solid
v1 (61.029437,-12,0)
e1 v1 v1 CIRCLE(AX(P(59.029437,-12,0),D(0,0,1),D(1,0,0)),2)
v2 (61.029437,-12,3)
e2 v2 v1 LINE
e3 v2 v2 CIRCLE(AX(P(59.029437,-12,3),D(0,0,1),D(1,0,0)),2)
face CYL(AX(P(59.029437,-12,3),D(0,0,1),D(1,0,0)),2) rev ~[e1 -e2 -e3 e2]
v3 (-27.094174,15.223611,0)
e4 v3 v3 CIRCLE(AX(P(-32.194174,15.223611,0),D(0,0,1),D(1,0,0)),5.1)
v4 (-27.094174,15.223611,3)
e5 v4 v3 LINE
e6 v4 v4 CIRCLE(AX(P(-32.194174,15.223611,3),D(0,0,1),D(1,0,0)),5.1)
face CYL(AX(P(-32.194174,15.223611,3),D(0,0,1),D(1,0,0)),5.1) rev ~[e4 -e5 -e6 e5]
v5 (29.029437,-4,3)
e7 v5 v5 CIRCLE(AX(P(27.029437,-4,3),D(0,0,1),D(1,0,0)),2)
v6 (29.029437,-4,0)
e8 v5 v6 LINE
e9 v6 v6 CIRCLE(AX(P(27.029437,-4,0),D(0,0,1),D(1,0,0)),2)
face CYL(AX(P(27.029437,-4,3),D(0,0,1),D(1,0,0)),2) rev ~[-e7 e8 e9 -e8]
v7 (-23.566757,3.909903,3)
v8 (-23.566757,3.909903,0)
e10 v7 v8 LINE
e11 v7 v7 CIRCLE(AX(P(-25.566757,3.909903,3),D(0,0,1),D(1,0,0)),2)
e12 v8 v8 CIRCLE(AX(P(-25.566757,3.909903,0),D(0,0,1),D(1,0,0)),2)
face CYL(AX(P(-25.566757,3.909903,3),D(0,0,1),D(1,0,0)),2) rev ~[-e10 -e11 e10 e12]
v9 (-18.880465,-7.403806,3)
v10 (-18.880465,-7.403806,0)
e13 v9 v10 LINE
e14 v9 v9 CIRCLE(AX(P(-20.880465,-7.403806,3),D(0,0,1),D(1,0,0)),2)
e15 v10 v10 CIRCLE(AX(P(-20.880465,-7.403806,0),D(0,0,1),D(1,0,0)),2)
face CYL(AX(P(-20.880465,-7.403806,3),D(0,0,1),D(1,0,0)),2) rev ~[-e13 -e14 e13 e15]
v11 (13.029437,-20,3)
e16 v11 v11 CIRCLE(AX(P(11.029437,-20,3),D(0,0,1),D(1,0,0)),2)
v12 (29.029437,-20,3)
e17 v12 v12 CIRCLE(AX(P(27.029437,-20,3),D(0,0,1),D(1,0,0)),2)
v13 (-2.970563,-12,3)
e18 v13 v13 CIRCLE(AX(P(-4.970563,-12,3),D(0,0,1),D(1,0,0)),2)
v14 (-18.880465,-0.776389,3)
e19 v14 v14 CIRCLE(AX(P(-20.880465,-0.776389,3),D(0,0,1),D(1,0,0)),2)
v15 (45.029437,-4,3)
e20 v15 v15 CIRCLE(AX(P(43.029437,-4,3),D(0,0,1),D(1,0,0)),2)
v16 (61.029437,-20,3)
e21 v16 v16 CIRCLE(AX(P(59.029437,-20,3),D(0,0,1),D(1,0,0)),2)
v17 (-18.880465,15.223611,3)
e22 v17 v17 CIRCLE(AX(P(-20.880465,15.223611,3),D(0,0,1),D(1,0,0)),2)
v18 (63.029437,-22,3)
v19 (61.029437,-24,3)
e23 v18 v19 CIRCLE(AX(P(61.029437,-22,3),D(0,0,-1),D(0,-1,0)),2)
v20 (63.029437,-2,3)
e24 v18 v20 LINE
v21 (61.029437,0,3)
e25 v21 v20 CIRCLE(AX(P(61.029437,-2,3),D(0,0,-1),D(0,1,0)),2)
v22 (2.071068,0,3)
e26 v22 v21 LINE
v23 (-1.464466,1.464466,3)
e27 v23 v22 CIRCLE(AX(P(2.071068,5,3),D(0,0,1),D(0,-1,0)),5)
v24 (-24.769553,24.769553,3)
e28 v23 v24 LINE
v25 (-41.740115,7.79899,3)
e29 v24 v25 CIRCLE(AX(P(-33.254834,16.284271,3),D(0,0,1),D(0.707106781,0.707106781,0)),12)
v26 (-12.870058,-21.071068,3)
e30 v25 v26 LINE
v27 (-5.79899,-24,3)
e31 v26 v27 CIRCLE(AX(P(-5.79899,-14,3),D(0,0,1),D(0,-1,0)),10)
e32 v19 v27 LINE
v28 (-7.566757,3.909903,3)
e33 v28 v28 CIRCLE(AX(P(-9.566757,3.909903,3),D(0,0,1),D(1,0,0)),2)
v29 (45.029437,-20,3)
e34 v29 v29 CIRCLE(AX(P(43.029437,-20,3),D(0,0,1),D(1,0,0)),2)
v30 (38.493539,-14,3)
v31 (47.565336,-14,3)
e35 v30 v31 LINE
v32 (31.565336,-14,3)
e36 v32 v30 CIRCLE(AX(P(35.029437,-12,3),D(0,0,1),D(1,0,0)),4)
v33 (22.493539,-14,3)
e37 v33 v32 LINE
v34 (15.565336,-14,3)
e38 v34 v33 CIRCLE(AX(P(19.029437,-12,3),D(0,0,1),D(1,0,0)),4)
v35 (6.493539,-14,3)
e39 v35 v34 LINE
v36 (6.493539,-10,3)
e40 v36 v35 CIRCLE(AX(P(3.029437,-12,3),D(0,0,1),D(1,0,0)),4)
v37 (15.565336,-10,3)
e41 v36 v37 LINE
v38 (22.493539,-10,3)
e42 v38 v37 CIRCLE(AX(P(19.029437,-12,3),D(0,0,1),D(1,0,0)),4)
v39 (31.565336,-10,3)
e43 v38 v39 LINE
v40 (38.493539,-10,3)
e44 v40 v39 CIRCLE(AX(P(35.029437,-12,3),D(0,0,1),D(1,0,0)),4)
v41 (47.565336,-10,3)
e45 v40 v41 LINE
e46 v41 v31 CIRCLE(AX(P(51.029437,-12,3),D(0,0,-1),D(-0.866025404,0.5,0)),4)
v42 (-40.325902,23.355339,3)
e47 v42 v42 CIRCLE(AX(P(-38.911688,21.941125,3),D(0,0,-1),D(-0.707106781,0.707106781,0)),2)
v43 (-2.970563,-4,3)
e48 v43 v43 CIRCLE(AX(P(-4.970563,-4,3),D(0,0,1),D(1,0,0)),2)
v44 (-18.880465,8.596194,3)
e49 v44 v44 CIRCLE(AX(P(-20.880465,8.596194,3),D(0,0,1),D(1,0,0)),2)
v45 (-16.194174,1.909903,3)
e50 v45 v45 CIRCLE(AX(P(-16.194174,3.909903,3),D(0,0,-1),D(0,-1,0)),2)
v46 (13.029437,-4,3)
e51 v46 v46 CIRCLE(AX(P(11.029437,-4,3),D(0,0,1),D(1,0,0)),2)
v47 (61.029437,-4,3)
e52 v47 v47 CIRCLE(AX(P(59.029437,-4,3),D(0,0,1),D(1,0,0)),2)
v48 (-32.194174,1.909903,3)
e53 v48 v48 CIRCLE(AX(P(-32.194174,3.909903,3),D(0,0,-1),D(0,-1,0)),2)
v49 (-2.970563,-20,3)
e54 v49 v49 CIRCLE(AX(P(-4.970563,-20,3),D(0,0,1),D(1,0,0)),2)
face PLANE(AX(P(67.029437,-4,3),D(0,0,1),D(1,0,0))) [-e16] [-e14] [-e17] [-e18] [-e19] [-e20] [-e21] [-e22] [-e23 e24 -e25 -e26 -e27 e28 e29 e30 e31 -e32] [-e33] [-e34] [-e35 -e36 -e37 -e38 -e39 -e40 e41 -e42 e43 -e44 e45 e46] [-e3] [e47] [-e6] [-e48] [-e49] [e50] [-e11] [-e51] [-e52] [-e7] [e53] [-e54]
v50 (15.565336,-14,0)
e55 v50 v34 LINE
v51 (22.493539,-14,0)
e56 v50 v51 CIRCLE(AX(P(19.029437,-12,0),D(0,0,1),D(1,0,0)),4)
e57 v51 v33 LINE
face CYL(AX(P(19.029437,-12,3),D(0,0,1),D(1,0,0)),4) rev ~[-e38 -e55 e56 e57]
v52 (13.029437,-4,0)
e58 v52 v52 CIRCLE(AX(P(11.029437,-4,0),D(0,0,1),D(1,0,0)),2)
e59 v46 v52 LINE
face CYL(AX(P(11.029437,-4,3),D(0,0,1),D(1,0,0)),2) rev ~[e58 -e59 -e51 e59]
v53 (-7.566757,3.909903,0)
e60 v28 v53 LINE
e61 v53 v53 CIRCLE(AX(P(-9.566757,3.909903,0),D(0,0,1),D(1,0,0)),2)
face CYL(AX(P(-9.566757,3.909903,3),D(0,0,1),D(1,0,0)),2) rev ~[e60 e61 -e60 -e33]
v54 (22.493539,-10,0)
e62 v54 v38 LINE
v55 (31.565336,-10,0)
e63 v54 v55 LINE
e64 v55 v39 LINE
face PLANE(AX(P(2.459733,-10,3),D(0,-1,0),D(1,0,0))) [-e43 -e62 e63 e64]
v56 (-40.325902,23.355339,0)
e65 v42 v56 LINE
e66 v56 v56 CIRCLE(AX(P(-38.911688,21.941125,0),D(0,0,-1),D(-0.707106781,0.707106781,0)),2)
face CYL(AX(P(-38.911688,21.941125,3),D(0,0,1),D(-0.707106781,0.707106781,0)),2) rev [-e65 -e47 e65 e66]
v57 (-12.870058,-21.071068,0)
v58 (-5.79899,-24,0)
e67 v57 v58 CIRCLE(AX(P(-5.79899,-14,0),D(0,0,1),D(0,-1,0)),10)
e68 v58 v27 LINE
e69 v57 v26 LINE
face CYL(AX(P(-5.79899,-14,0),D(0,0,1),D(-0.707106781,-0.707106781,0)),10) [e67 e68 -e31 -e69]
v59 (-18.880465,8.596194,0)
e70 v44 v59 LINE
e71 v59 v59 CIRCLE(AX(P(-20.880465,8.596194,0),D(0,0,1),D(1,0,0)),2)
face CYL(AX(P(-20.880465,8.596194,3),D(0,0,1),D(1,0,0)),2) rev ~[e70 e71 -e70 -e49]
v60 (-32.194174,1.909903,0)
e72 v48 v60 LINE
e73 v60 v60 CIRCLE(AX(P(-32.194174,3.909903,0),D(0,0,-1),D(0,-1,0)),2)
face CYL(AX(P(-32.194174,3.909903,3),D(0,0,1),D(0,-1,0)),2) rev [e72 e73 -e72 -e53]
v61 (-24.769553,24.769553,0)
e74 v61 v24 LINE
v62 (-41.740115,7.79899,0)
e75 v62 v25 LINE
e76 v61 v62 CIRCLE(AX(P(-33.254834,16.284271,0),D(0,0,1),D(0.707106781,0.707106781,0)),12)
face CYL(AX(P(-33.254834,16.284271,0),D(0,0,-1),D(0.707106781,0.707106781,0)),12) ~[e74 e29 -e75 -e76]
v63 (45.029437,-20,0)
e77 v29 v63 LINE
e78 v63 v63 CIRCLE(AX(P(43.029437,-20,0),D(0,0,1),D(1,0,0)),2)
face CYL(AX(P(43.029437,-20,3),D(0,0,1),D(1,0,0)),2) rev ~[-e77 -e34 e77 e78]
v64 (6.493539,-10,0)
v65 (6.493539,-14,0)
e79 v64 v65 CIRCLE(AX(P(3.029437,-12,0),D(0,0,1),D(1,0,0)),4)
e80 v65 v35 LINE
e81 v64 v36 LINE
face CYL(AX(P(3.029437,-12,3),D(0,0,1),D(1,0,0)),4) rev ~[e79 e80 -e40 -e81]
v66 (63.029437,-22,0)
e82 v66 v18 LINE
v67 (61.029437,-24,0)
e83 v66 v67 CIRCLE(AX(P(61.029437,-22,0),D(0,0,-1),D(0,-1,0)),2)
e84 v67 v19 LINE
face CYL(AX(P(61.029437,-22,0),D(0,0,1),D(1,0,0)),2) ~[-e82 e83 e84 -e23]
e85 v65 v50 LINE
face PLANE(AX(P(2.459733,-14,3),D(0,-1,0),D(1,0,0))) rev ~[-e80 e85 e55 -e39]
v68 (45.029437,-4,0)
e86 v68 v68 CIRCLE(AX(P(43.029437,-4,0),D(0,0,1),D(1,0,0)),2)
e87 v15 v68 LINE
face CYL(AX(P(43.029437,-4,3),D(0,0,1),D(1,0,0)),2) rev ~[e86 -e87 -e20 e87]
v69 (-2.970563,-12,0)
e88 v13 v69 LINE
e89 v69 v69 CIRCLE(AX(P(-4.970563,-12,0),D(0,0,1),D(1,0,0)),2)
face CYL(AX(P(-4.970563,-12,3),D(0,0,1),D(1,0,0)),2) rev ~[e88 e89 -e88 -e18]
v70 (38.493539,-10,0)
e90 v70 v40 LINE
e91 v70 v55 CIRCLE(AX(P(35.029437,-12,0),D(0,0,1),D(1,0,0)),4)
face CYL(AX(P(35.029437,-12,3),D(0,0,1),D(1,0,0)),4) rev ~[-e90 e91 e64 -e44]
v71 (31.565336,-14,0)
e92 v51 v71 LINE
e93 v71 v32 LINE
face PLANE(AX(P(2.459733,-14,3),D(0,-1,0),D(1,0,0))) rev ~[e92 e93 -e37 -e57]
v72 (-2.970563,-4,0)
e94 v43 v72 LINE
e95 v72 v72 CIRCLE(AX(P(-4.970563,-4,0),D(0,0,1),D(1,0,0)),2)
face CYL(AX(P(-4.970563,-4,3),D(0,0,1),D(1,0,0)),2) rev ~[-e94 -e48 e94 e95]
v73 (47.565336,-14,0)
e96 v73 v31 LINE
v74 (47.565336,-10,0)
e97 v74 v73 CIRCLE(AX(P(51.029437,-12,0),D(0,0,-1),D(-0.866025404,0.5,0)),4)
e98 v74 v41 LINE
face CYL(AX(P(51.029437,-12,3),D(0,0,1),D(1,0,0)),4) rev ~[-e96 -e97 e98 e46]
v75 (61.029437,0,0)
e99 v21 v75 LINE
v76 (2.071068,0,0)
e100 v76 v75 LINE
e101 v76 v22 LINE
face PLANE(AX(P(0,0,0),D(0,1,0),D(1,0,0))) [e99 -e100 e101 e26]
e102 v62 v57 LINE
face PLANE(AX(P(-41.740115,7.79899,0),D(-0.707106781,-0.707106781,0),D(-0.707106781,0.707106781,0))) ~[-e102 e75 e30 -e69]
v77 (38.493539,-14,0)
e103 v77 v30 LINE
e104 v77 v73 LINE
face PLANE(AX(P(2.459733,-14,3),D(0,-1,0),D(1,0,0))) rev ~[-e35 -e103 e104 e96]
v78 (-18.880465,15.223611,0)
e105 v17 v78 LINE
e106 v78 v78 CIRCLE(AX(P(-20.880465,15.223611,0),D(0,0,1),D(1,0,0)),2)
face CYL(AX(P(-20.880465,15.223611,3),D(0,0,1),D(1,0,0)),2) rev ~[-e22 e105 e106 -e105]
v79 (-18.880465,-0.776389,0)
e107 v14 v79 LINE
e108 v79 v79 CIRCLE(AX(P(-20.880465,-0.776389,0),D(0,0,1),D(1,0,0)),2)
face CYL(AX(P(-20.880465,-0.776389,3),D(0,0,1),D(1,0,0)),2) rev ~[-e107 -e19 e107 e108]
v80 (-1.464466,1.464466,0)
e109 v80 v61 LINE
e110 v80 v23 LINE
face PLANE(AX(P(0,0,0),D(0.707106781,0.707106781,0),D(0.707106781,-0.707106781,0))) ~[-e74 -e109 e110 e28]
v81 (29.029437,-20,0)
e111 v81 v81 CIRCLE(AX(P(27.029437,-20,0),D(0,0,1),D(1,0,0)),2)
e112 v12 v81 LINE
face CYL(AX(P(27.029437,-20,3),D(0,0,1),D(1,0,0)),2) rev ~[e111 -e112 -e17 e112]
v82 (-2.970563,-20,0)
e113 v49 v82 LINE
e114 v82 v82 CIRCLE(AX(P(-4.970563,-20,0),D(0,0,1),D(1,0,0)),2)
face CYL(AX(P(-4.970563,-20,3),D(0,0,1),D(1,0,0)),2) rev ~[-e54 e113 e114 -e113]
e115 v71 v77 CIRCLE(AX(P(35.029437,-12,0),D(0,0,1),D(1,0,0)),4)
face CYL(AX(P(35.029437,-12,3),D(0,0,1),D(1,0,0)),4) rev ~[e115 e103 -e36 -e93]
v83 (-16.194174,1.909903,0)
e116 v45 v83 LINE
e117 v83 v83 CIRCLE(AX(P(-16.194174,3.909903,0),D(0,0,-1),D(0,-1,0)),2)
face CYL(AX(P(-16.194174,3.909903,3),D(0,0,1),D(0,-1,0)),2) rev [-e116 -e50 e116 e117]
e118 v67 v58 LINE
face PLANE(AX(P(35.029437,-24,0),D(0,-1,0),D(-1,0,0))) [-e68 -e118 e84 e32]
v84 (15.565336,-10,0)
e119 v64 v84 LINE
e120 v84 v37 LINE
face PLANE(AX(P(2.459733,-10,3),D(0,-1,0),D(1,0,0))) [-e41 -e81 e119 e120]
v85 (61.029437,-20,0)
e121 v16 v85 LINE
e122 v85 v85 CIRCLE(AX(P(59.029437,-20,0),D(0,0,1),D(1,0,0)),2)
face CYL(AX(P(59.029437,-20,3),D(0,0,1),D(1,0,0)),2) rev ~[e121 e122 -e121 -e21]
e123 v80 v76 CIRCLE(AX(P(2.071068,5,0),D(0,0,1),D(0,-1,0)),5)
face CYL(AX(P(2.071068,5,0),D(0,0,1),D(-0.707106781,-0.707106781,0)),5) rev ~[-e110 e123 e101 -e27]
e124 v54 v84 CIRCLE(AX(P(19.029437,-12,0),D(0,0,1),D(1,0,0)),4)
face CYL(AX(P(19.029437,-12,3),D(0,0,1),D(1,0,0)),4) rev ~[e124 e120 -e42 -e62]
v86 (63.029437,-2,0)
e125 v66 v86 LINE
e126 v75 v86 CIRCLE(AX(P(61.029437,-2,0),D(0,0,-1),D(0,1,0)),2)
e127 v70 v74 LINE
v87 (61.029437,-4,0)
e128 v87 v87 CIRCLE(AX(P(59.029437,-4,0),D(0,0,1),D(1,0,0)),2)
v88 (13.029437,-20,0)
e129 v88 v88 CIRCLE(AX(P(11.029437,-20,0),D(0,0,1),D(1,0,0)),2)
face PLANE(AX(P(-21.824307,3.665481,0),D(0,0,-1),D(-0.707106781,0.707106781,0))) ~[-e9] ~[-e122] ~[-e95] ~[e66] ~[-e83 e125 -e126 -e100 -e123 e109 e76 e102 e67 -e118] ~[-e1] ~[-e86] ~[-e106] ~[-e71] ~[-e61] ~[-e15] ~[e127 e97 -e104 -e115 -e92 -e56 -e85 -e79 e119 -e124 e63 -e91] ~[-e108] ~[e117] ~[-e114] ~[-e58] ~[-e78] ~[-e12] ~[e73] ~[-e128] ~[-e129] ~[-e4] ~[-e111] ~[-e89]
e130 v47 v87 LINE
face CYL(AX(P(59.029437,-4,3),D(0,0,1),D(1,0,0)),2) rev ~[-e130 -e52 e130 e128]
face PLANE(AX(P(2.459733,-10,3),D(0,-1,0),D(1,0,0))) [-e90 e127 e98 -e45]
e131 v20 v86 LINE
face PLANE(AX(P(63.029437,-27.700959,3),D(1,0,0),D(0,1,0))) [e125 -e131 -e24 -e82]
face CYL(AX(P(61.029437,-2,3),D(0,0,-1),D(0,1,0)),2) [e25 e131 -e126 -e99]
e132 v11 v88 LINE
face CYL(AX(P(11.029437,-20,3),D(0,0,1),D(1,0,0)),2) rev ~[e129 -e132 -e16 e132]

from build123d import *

# Parameters (mm, degrees)
SKETCH_1_R               = 4
EXTRUDE_1_DEPTH          = 3
SKETCH_2_R               = 2
CUT_EXTRUDE_1_DEPTH      = 3
PATTERN_CIRCULAR_1_COUNT = 8
SKETCH_3_R               = 2
CUT_EXTRUDE_2_DEPTH      = 3
PATTERN_LINEAR_1_COUNT   = 3
PATTERN_LINEAR_1_PITCH   = 8
SKETCH_14_W              = 16
SKETCH_14_H              = 4
CUT_EXTRUDE_6_DEPTH      = 3
FILLET_1_R               = 5
FILLET_2_R               = 10
SKETCH_13_R              = 2
CUT_EXTRUDE_5_DEPTH      = 3
SKETCH_44_W              = 47.294876162
SKETCH_44_H              = 24
EXTRUDE_2_DEPTH          = 3
SKETCH_45_R              = 2
CUT_EXTRUDE_18_DEPTH     = 10
PATTERN_LINEAR_2_COUNT   = 6
PATTERN_LINEAR_2_PITCH   = 8
SKETCH_47_R              = 2
CUT_EXTRUDE_19_DEPTH     = 10
FILLET_11_R              = 2
SKETCH_48_R              = 2
CUT_EXTRUDE_20_DEPTH     = 10
SKETCH_66_R              = 3.227064369
EXTRUDE_6_DEPTH          = 3
SKETCH_67_R              = 2
CUT_EXTRUDE_28_DEPTH     = 10
EXTRUDE_7_DEPTH          = 3
SKETCH_71_R              = 2.896747876
EXTRUDE_8_DEPTH          = 3
SKETCH_77_R              = 2
CUT_EXTRUDE_31_DEPTH     = 10
SKETCH_78_R              = 2
CUT_EXTRUDE_32_DEPTH     = 10
SKETCH_79_R              = 2
CUT_EXTRUDE_33_DEPTH     = 10
SKETCH_80_R              = 2
SKETCH_80_R_2            = 4
CUT_EXTRUDE_34_DEPTH     = 10
CUT_EXTRUDE_35_DEPTH     = 10
SKETCH_82_R              = 2
SKETCH_82_R_2            = 4
EXTRUDE_9_DEPTH          = 3
SKETCH_84_R              = 5.1
SKETCH_84_R_2            = 2
CUT_EXTRUDE_36_DEPTH     = 10
SKETCH_88_W              = 16.035160194
SKETCH_88_H              = 32.129057239
CUT_EXTRUDE_38_DEPTH     = 10
FILLET_12_R              = 2
SKETCH_89_R              = 2
CUT_EXTRUDE_39_DEPTH     = 3
SKETCH_90_R              = 2
CUT_EXTRUDE_40_DEPTH     = 10
SKETCH_91_R              = 4
CUT_EXTRUDE_41_DEPTH     = 10
SKETCH_92_R              = 2
CUT_EXTRUDE_42_DEPTH     = 10
PATTERN_LINEAR_3_COUNT   = 3
PATTERN_LINEAR_3_PITCH   = 16
PATTERN_LINEAR_4_COUNT   = 4
PATTERN_LINEAR_4_PITCH   = 16
SKETCH_93_W              = 47.126150853
SKETCH_93_H              = 4
CUT_EXTRUDE_43_DEPTH     = 10
SKETCH_107_R             = 2
CUT_EXTRUDE_46_DEPTH     = 10


with BuildPart() as part:
    # 草图1 → 凸台-拉伸1 (new body)
    with BuildSketch(Plane.XY):
        with BuildLine():
            Line((0, 0), (35.029437252, 0))
            ThreePointArc((35.029437252, 0), (47.029437252, -12), (35.029437252, -24))
            Line((35.029437252, -24), (-9.941125497, -24))
            Line((-9.941125497, -24), (0, 0))
        make_face()
        with Locations((35.029437252, -12)):
            Circle(SKETCH_1_R, mode=Mode.SUBTRACT)
    extrude(amount=EXTRUDE_1_DEPTH)

    # 草图2 → 切除-拉伸1 (cut)
    with BuildSketch(Plane.XY.offset(3)):
        with Locations((43.029437252, -12)):
            Circle(SKETCH_2_R)
    cut_extrude_1 = extrude(amount=-CUT_EXTRUDE_1_DEPTH, mode=Mode.SUBTRACT)

    # 阵列(圆周)1: 切除-拉伸1 ×8 about axis
    pattern_circular_1_axis = Axis((35.029437252, -12, 0), (0, 0, 1))
    for i in range(1, PATTERN_CIRCULAR_1_COUNT):
        add(cut_extrude_1.rotate(pattern_circular_1_axis, i * 360 / PATTERN_CIRCULAR_1_COUNT), mode=Mode.SUBTRACT)

    # 草图3 → 切除-拉伸2 (cut)
    with BuildSketch(Plane.XY.offset(3)):
        with Locations((19.029437252, -4)):
            Circle(SKETCH_3_R)
        with Locations((19.029437252, -20)):
            Circle(SKETCH_3_R)
        with Locations((19.029437252, -12)):
            Circle(SKETCH_3_R)
    cut_extrude_2 = extrude(amount=-CUT_EXTRUDE_2_DEPTH, mode=Mode.SUBTRACT)

    # 阵列(线性)1: 切除-拉伸2 ×3
    with Locations(*[(-i * PATTERN_LINEAR_1_PITCH, 0, 0) for i in range(1, PATTERN_LINEAR_1_COUNT)]):
        add(cut_extrude_2, mode=Mode.SUBTRACT)

    # 草图14 → 切除-拉伸6 (cut)
    with BuildSketch(Plane.XY.offset(3)):
        with Locations((11.029437252, -12)):
            Rectangle(SKETCH_14_W, SKETCH_14_H)
    extrude(amount=-CUT_EXTRUDE_6_DEPTH, mode=Mode.SUBTRACT)

    # 镜向2: part across plane


with BuildPart() as part_1:
    add(part.part)
    add(part.part.mirror(Plane(origin=(-9.941125497, -24, 3), x_dir=(0, 0, 1), z_dir=(0.9238795325112868, -0.38268343236508967, 0))))

    # 圆角1
    fillet_1_edges = [part_1.edges().sort_by_distance(p)[0] for p in [
        (0, 0, 1.5),
    ]]
    fillet(fillet_1_edges, radius=FILLET_1_R)

    # 圆角2
    fillet_2_edges = [part_1.edges().sort_by_distance(p)[0] for p in [
        (-9.941125497, -24, 1.5),
    ]]
    fillet(fillet_2_edges, radius=FILLET_2_R)

    # 草图13 → 切除-拉伸5 (cut)
    with BuildSketch(Plane.XY.offset(3)):
        with Locations((-4.970562748, -12)):
            Circle(SKETCH_13_R)
    extrude(amount=-CUT_EXTRUDE_5_DEPTH, mode=Mode.SUBTRACT)

    # 草图44 → 凸台-拉伸2 (add)
    with BuildSketch(Plane.XY.offset(3)):
        with Locations((47.381999171, -12)):
            Rectangle(SKETCH_44_W, SKETCH_44_H)
    extrude(amount=-EXTRUDE_2_DEPTH)

    # 草图45 → 切除-拉伸18 (cut)
    with BuildSketch(Plane.XY.offset(3)):
        with Locations((67.029437252, -4)):
            Circle(SKETCH_45_R)
        with Locations((67.029437252, -20)):
            Circle(SKETCH_45_R)
    cut_extrude_18 = extrude(amount=-CUT_EXTRUDE_18_DEPTH, mode=Mode.SUBTRACT)

    # 阵列(线性)2: 切除-拉伸18 ×6
    with Locations(*[(-i * PATTERN_LINEAR_2_PITCH, 0, 0) for i in range(1, PATTERN_LINEAR_2_COUNT)]):
        add(cut_extrude_18, mode=Mode.SUBTRACT)

    # 草图47 → 切除-拉伸19 (cut)
    with BuildSketch(Plane.XY.offset(3)):
        with Locations((67.029437252, -12)):
            Circle(SKETCH_47_R)
        with BuildLine():
            Line((59.029437252, -10), (35.029437252, -10))
            ThreePointArc((35.029437252, -10), (33.029437252, -12), (35.029437252, -14))
            Line((35.029437252, -14), (59.029437252, -14))
            ThreePointArc((59.029437252, -14), (61.029437252, -12), (59.029437252, -10))
        make_face()
        with BuildLine():
            Line((17.062680891, -10), (17.062680891, -14))
            Line((17.062680891, -14), (27.029437252, -14))
            ThreePointArc((27.029437252, -14), (29.029437252, -12), (27.029437252, -10))
            Line((27.029437252, -10), (17.062680891, -10))
        make_face()
    extrude(amount=-CUT_EXTRUDE_19_DEPTH, mode=Mode.SUBTRACT)

    # 圆角11
    fillet_11_edges = [part_1.edges().sort_by_distance(p)[0] for p in [
        (71.029437252, 0, 1.5),
        (71.029437252, -24, 1.5),
    ]]
    fillet(fillet_11_edges, radius=FILLET_11_R)

    # 草图48 → 切除-拉伸20 (cut)
    with BuildSketch(Plane.XY.offset(3)):
        with Locations((-4.970562748, -20)):
            Circle(SKETCH_48_R)
        with Locations((-10.627416998, -17.656854249)):
            Circle(SKETCH_48_R)
    extrude(amount=-CUT_EXTRUDE_20_DEPTH, mode=Mode.SUBTRACT)

    # 草图66 → 凸台-拉伸6 (add)
    with BuildSketch(Plane.XY.offset(3)):
        with Locations((-27.398586608, 0)):
            Circle(SKETCH_66_R)
    extrude(amount=-EXTRUDE_6_DEPTH)

    # 草图67 → 切除-拉伸28 (cut)
    with BuildSketch(Plane.XY.offset(3)):
        with Locations((-25.254833996, 0.284271247)):
            Circle(SKETCH_67_R)
    extrude(amount=-CUT_EXTRUDE_28_DEPTH, mode=Mode.SUBTRACT)

    # 草图70 → 凸台-拉伸7 (add)
    with BuildSketch(Plane.XY.offset(3)):
        Polygon((-30.596841729, 0), (-25.315891714, -7.21150969), (-15.151482544, -16.524152728), (-1.274400878, -1.377825788), (-7.279372778, 5.996536758), (-16.546058046, 14.486684154), align=None)
    extrude(amount=-EXTRUDE_7_DEPTH)

    # 草图71 → 凸台-拉伸8 (add)
    with BuildSketch(Plane.XY.offset(3)):
        with Locations((-10.627416998, -17.656854249)):
            Circle(SKETCH_71_R)
    extrude(amount=-EXTRUDE_8_DEPTH)

    # 草图77 → 切除-拉伸31 (cut)
    with BuildSketch(Plane.XY.offset(3)):
        with Locations((-16.284271247, -0.686291501)):
            Circle(SKETCH_77_R)
    extrude(amount=-CUT_EXTRUDE_31_DEPTH, mode=Mode.SUBTRACT)

    # 草图78 → 切除-拉伸32 (cut)
    with BuildSketch(Plane.XY.offset(3)):
        with Locations((-21.941125497, 4.970562748)):
            Circle(SKETCH_78_R)
    extrude(amount=-CUT_EXTRUDE_32_DEPTH, mode=Mode.SUBTRACT)

    # 草图79 → 切除-拉伸33 (cut)
    with BuildSketch(Plane.XY.offset(3)):
        with Locations((-10.627416998, -6.343145751)):
            Circle(SKETCH_79_R)
    extrude(amount=-CUT_EXTRUDE_33_DEPTH, mode=Mode.SUBTRACT)

    # 草图80 → 切除-拉伸34 (cut)
    with BuildSketch(Plane.XY.offset(3)):
        with Locations((-25.254833996, 0.284271247)):
            Circle(SKETCH_80_R)
        with Locations(Location((-33.254833996, 8.284271247, 0), (0, 0, 270))):
            Circle(SKETCH_80_R)
        with Locations(Location((-27.597979746, 10.627416998, 0), (0, 0, 315))):
            Circle(SKETCH_80_R)
        with Locations((-25.254833996, 16.284271247)):
            Circle(SKETCH_80_R)
        with Locations(Location((-27.597979746, 21.941125497, 0), (0, 0, 45))):
            Circle(SKETCH_80_R)
        with Locations(Location((-33.254833996, 24.284271247, 0), (0, 0, 90))):
            Circle(SKETCH_80_R)
        with Locations(Location((-33.254833996, 16.284271247, 0), (0, 0, 135))):
            Circle(SKETCH_80_R_2)
        with Locations(Location((-38.911688245, 21.941125497, 0), (0, 0, 135))):
            Circle(SKETCH_80_R)
        with Locations(Location((-41.254833996, 16.284271247, 0), (0, 0, 180))):
            Circle(SKETCH_80_R)
        with Locations(Location((-38.911688245, 10.627416998, 0), (0, 0, 225))):
            Circle(SKETCH_80_R)
        with Locations((-17.254833996, 8.284271247)):
            Circle(SKETCH_80_R)
        with Locations((-9.254833996, 0.284271247)):
            Circle(SKETCH_80_R)
        with Locations((-17.254833996, -7.715728753)):
            Circle(SKETCH_80_R)
        with Locations((-21.941125497, -6.343145751)):
            Circle(SKETCH_80_R)
        with Locations((-10.627416998, 4.970562748)):
            Circle(SKETCH_80_R)
        with Locations((-10.627416998, -17.656854249)):
            Circle(SKETCH_80_R)
    extrude(amount=-CUT_EXTRUDE_34_DEPTH, mode=Mode.SUBTRACT)

    # 草图81 → 切除-拉伸35 (cut)
    with BuildSketch(Plane.XY.offset(3)):
        with BuildLine():
            Line((-23.355339059, 3.556349186), (-12.04163056, -7.757359313))
            ThreePointArc((-12.04163056, -7.757359313), (-9.213203436, -7.757359313), (-9.213203436, -4.928932188))
            Line((-9.213203436, -4.928932188), (-20.526911935, 6.384776311))
            ThreePointArc((-20.526911935, 6.384776311), (-23.355339059, 6.384776311), (-23.355339059, 3.556349186))
        make_face()
    extrude(amount=-CUT_EXTRUDE_35_DEPTH, mode=Mode.SUBTRACT)

    # 草图82 → 凸台-拉伸9 (add)
    with BuildSketch(Plane.XY.offset(3)):
        with Locations((67.029437252, -4)):
            Circle(SKETCH_82_R)
        with Locations((67.029437252, -12)):
            Circle(SKETCH_82_R)
        with Locations((67.029437252, -20)):
            Circle(SKETCH_82_R)
        with Locations((51.029437252, -20)):
            Circle(SKETCH_82_R)
        with Locations((51.029437252, -4)):
            Circle(SKETCH_82_R)
        with Locations((35.029437252, -4)):
            Circle(SKETCH_82_R)
        with Locations((35.029437252, -20)):
            Circle(SKETCH_82_R)
        with Locations((27.029437252, -20)):
            Circle(SKETCH_82_R)
        with Locations((27.029437252, -4)):
            Circle(SKETCH_82_R)
        with Locations((19.029437252, -4)):
            Circle(SKETCH_82_R)
        with Locations((19.029437252, -20)):
            Circle(SKETCH_82_R)
        with Locations((11.029437252, -20)):
            Circle(SKETCH_82_R)
        with Locations((3.029437252, -20)):
            Circle(SKETCH_82_R)
        with Locations((-4.970562748, -20)):
            Circle(SKETCH_82_R)
        with Locations((-10.627416998, -17.656854249)):
            Circle(SKETCH_82_R)
        with Locations((3.029437252, -4)):
            Circle(SKETCH_82_R)
        with Locations((11.029437252, -4)):
            Circle(SKETCH_82_R)
        with Locations((-33.254833996, 24.284271247)):
            Circle(SKETCH_82_R)
        with Locations((-41.254833996, 16.284271247)):
            Circle(SKETCH_82_R)
        with Locations((-33.254833996, 16.284271247)):
            Circle(SKETCH_82_R_2)
        with Locations((-33.254833996, 8.284271247)):
            Circle(SKETCH_82_R)
        with Locations((-27.597979746, 10.627416998)):
            Circle(SKETCH_82_R)
        with Locations((-25.254833996, 16.284271247)):
            Circle(SKETCH_82_R)
        with Locations((-25.254833996, 0.284271247)):
            Circle(SKETCH_82_R)
        with Locations((-17.254833996, 8.284271247)):
            Circle(SKETCH_82_R)
        with Locations((-17.254833996, -7.715728753)):
            Circle(SKETCH_82_R)
        with Locations((-9.254833996, 0.284271247)):
            Circle(SKETCH_82_R)
        with Locations((-10.627416998, 4.970562748)):
            Circle(SKETCH_82_R)
        with Locations((-21.941125497, -6.343145751)):
            Circle(SKETCH_82_R)
        with Locations((-27.597979746, 21.941125497)):
            Circle(SKETCH_82_R)
        with Locations((-38.911688245, 10.627416998)):
            Circle(SKETCH_82_R)
        with BuildLine():
            Line((-9.213203436, -4.928932188), (-20.526911935, 6.384776311))
            ThreePointArc((-20.526911935, 6.384776311), (-23.355339059, 6.384776311), (-23.355339059, 3.556349186))
            Line((-23.355339059, 3.556349186), (-12.04163056, -7.757359313))
            ThreePointArc((-12.04163056, -7.757359313), (-9.213203436, -7.757359313), (-9.213203436, -4.928932188))
        make_face()
        with BuildLine():
            Line((27.029437252, -10), (3.029437252, -10))
            ThreePointArc((3.029437252, -10), (1.029437252, -12), (3.029437252, -14))
            Line((3.029437252, -14), (27.029437252, -14))
            ThreePointArc((27.029437252, -14), (29.029437252, -12), (27.029437252, -10))
        make_face()
        with BuildLine():
            Line((59.029437252, -10), (35.029437252, -10))
            ThreePointArc((35.029437252, -10), (33.029437252, -12), (35.029437252, -14))
            Line((35.029437252, -14), (59.029437252, -14))
            ThreePointArc((59.029437252, -14), (61.029437252, -12), (59.029437252, -10))
        make_face()
    extrude(amount=-EXTRUDE_9_DEPTH)

    # 草图84 → 切除-拉伸36 (cut)
    with BuildSketch(Plane.XY.offset(3)):
        with Locations((-32.194173824, 15.223611076)):
            Circle(SKETCH_84_R)
        with Locations((-20.880465325, -7.403805922)):
            Circle(SKETCH_84_R_2)
        with Locations((-9.566756826, 3.909902577)):
            Circle(SKETCH_84_R_2)
    extrude(amount=-CUT_EXTRUDE_36_DEPTH, mode=Mode.SUBTRACT)

    # 草图88 → 切除-拉伸38 (cut)
    with BuildSketch(Plane.XY.offset(3)):
        with Locations((71.047017349, -11.636430702)):
            Rectangle(SKETCH_88_W, SKETCH_88_H)
    extrude(amount=-CUT_EXTRUDE_38_DEPTH, mode=Mode.SUBTRACT)

    # 圆角12
    fillet_12_edges = [part_1.edges().sort_by_distance(p)[0] for p in [
        (63.029437252, 0, 1.5),
        (63.029437252, -24, 1.5),
    ]]
    fillet(fillet_12_edges, radius=FILLET_12_R)

    # 草图89 → 切除-拉伸39 (cut)
    with BuildSketch(Plane.XY.offset(3)):
        with Locations((-20.880465325, 15.223611076)):
            Circle(SKETCH_89_R)
        with Locations((-20.880465325, -0.776388924)):
            Circle(SKETCH_89_R)
    cut_extrude_39 = extrude(amount=-CUT_EXTRUDE_39_DEPTH, mode=Mode.SUBTRACT)

    # 镜向3: 切除-拉伸39 across plane
    add(cut_extrude_39.mirror(Plane(origin=(-8.485281374, -8.485281374, 0), x_dir=(0, 0, 1), z_dir=(-0.7071067811865476, -0.7071067811865476, 0))), mode=Mode.SUBTRACT)

    # 草图90 → 切除-拉伸40 (cut)
    with BuildSketch(Plane.XY.offset(3)):
        with Locations((59.029437252, -12)):
            Circle(SKETCH_90_R)
    extrude(amount=-CUT_EXTRUDE_40_DEPTH, mode=Mode.SUBTRACT)

    # 草图91 → 切除-拉伸41 (cut)
    with BuildSketch(Plane.XY.offset(3)):
        with Locations((51.029437252, -12)):
            Circle(SKETCH_91_R)
    cut_extrude_41 = extrude(amount=-CUT_EXTRUDE_41_DEPTH, mode=Mode.SUBTRACT)

    # 草图92 → 切除-拉伸42 (cut)
    with BuildSketch(Plane.XY.offset(3)):
        with Locations((27.029437252, -4)):
            Circle(SKETCH_92_R)
        with Locations((27.029437252, -20)):
            Circle(SKETCH_92_R)
    cut_extrude_42 = extrude(amount=-CUT_EXTRUDE_42_DEPTH, mode=Mode.SUBTRACT)

    # 阵列(线性)3: 切除-拉伸42 ×3
    with Locations(*[(-i * PATTERN_LINEAR_3_PITCH, 0, 0) for i in range(1, PATTERN_LINEAR_3_COUNT)]):
        add(cut_extrude_42, mode=Mode.SUBTRACT)

    # 阵列(线性)4: 切除-拉伸41 ×4
    with Locations(*[(-i * PATTERN_LINEAR_4_PITCH, 0, 0) for i in range(1, PATTERN_LINEAR_4_COUNT)]):
        add(cut_extrude_41, mode=Mode.SUBTRACT)

    # 草图93 → 切除-拉伸43 (cut)
    with BuildSketch(Plane.XY.offset(3)):
        with Locations((26.022808232, -12)):
            Rectangle(SKETCH_93_W, SKETCH_93_H)
    extrude(amount=-CUT_EXTRUDE_43_DEPTH, mode=Mode.SUBTRACT)

    # 草图107 → 切除-拉伸46 (cut)
    with BuildSketch(Plane.XY.offset(3)):
        with Locations((-25.566756826, 3.909902577)):
            Circle(SKETCH_107_R)
        with Locations((-20.880465325, 8.596194078)):
            Circle(SKETCH_107_R)
    extrude(amount=-CUT_EXTRUDE_46_DEPTH, mode=Mode.SUBTRACT)


solid = part_1.part
